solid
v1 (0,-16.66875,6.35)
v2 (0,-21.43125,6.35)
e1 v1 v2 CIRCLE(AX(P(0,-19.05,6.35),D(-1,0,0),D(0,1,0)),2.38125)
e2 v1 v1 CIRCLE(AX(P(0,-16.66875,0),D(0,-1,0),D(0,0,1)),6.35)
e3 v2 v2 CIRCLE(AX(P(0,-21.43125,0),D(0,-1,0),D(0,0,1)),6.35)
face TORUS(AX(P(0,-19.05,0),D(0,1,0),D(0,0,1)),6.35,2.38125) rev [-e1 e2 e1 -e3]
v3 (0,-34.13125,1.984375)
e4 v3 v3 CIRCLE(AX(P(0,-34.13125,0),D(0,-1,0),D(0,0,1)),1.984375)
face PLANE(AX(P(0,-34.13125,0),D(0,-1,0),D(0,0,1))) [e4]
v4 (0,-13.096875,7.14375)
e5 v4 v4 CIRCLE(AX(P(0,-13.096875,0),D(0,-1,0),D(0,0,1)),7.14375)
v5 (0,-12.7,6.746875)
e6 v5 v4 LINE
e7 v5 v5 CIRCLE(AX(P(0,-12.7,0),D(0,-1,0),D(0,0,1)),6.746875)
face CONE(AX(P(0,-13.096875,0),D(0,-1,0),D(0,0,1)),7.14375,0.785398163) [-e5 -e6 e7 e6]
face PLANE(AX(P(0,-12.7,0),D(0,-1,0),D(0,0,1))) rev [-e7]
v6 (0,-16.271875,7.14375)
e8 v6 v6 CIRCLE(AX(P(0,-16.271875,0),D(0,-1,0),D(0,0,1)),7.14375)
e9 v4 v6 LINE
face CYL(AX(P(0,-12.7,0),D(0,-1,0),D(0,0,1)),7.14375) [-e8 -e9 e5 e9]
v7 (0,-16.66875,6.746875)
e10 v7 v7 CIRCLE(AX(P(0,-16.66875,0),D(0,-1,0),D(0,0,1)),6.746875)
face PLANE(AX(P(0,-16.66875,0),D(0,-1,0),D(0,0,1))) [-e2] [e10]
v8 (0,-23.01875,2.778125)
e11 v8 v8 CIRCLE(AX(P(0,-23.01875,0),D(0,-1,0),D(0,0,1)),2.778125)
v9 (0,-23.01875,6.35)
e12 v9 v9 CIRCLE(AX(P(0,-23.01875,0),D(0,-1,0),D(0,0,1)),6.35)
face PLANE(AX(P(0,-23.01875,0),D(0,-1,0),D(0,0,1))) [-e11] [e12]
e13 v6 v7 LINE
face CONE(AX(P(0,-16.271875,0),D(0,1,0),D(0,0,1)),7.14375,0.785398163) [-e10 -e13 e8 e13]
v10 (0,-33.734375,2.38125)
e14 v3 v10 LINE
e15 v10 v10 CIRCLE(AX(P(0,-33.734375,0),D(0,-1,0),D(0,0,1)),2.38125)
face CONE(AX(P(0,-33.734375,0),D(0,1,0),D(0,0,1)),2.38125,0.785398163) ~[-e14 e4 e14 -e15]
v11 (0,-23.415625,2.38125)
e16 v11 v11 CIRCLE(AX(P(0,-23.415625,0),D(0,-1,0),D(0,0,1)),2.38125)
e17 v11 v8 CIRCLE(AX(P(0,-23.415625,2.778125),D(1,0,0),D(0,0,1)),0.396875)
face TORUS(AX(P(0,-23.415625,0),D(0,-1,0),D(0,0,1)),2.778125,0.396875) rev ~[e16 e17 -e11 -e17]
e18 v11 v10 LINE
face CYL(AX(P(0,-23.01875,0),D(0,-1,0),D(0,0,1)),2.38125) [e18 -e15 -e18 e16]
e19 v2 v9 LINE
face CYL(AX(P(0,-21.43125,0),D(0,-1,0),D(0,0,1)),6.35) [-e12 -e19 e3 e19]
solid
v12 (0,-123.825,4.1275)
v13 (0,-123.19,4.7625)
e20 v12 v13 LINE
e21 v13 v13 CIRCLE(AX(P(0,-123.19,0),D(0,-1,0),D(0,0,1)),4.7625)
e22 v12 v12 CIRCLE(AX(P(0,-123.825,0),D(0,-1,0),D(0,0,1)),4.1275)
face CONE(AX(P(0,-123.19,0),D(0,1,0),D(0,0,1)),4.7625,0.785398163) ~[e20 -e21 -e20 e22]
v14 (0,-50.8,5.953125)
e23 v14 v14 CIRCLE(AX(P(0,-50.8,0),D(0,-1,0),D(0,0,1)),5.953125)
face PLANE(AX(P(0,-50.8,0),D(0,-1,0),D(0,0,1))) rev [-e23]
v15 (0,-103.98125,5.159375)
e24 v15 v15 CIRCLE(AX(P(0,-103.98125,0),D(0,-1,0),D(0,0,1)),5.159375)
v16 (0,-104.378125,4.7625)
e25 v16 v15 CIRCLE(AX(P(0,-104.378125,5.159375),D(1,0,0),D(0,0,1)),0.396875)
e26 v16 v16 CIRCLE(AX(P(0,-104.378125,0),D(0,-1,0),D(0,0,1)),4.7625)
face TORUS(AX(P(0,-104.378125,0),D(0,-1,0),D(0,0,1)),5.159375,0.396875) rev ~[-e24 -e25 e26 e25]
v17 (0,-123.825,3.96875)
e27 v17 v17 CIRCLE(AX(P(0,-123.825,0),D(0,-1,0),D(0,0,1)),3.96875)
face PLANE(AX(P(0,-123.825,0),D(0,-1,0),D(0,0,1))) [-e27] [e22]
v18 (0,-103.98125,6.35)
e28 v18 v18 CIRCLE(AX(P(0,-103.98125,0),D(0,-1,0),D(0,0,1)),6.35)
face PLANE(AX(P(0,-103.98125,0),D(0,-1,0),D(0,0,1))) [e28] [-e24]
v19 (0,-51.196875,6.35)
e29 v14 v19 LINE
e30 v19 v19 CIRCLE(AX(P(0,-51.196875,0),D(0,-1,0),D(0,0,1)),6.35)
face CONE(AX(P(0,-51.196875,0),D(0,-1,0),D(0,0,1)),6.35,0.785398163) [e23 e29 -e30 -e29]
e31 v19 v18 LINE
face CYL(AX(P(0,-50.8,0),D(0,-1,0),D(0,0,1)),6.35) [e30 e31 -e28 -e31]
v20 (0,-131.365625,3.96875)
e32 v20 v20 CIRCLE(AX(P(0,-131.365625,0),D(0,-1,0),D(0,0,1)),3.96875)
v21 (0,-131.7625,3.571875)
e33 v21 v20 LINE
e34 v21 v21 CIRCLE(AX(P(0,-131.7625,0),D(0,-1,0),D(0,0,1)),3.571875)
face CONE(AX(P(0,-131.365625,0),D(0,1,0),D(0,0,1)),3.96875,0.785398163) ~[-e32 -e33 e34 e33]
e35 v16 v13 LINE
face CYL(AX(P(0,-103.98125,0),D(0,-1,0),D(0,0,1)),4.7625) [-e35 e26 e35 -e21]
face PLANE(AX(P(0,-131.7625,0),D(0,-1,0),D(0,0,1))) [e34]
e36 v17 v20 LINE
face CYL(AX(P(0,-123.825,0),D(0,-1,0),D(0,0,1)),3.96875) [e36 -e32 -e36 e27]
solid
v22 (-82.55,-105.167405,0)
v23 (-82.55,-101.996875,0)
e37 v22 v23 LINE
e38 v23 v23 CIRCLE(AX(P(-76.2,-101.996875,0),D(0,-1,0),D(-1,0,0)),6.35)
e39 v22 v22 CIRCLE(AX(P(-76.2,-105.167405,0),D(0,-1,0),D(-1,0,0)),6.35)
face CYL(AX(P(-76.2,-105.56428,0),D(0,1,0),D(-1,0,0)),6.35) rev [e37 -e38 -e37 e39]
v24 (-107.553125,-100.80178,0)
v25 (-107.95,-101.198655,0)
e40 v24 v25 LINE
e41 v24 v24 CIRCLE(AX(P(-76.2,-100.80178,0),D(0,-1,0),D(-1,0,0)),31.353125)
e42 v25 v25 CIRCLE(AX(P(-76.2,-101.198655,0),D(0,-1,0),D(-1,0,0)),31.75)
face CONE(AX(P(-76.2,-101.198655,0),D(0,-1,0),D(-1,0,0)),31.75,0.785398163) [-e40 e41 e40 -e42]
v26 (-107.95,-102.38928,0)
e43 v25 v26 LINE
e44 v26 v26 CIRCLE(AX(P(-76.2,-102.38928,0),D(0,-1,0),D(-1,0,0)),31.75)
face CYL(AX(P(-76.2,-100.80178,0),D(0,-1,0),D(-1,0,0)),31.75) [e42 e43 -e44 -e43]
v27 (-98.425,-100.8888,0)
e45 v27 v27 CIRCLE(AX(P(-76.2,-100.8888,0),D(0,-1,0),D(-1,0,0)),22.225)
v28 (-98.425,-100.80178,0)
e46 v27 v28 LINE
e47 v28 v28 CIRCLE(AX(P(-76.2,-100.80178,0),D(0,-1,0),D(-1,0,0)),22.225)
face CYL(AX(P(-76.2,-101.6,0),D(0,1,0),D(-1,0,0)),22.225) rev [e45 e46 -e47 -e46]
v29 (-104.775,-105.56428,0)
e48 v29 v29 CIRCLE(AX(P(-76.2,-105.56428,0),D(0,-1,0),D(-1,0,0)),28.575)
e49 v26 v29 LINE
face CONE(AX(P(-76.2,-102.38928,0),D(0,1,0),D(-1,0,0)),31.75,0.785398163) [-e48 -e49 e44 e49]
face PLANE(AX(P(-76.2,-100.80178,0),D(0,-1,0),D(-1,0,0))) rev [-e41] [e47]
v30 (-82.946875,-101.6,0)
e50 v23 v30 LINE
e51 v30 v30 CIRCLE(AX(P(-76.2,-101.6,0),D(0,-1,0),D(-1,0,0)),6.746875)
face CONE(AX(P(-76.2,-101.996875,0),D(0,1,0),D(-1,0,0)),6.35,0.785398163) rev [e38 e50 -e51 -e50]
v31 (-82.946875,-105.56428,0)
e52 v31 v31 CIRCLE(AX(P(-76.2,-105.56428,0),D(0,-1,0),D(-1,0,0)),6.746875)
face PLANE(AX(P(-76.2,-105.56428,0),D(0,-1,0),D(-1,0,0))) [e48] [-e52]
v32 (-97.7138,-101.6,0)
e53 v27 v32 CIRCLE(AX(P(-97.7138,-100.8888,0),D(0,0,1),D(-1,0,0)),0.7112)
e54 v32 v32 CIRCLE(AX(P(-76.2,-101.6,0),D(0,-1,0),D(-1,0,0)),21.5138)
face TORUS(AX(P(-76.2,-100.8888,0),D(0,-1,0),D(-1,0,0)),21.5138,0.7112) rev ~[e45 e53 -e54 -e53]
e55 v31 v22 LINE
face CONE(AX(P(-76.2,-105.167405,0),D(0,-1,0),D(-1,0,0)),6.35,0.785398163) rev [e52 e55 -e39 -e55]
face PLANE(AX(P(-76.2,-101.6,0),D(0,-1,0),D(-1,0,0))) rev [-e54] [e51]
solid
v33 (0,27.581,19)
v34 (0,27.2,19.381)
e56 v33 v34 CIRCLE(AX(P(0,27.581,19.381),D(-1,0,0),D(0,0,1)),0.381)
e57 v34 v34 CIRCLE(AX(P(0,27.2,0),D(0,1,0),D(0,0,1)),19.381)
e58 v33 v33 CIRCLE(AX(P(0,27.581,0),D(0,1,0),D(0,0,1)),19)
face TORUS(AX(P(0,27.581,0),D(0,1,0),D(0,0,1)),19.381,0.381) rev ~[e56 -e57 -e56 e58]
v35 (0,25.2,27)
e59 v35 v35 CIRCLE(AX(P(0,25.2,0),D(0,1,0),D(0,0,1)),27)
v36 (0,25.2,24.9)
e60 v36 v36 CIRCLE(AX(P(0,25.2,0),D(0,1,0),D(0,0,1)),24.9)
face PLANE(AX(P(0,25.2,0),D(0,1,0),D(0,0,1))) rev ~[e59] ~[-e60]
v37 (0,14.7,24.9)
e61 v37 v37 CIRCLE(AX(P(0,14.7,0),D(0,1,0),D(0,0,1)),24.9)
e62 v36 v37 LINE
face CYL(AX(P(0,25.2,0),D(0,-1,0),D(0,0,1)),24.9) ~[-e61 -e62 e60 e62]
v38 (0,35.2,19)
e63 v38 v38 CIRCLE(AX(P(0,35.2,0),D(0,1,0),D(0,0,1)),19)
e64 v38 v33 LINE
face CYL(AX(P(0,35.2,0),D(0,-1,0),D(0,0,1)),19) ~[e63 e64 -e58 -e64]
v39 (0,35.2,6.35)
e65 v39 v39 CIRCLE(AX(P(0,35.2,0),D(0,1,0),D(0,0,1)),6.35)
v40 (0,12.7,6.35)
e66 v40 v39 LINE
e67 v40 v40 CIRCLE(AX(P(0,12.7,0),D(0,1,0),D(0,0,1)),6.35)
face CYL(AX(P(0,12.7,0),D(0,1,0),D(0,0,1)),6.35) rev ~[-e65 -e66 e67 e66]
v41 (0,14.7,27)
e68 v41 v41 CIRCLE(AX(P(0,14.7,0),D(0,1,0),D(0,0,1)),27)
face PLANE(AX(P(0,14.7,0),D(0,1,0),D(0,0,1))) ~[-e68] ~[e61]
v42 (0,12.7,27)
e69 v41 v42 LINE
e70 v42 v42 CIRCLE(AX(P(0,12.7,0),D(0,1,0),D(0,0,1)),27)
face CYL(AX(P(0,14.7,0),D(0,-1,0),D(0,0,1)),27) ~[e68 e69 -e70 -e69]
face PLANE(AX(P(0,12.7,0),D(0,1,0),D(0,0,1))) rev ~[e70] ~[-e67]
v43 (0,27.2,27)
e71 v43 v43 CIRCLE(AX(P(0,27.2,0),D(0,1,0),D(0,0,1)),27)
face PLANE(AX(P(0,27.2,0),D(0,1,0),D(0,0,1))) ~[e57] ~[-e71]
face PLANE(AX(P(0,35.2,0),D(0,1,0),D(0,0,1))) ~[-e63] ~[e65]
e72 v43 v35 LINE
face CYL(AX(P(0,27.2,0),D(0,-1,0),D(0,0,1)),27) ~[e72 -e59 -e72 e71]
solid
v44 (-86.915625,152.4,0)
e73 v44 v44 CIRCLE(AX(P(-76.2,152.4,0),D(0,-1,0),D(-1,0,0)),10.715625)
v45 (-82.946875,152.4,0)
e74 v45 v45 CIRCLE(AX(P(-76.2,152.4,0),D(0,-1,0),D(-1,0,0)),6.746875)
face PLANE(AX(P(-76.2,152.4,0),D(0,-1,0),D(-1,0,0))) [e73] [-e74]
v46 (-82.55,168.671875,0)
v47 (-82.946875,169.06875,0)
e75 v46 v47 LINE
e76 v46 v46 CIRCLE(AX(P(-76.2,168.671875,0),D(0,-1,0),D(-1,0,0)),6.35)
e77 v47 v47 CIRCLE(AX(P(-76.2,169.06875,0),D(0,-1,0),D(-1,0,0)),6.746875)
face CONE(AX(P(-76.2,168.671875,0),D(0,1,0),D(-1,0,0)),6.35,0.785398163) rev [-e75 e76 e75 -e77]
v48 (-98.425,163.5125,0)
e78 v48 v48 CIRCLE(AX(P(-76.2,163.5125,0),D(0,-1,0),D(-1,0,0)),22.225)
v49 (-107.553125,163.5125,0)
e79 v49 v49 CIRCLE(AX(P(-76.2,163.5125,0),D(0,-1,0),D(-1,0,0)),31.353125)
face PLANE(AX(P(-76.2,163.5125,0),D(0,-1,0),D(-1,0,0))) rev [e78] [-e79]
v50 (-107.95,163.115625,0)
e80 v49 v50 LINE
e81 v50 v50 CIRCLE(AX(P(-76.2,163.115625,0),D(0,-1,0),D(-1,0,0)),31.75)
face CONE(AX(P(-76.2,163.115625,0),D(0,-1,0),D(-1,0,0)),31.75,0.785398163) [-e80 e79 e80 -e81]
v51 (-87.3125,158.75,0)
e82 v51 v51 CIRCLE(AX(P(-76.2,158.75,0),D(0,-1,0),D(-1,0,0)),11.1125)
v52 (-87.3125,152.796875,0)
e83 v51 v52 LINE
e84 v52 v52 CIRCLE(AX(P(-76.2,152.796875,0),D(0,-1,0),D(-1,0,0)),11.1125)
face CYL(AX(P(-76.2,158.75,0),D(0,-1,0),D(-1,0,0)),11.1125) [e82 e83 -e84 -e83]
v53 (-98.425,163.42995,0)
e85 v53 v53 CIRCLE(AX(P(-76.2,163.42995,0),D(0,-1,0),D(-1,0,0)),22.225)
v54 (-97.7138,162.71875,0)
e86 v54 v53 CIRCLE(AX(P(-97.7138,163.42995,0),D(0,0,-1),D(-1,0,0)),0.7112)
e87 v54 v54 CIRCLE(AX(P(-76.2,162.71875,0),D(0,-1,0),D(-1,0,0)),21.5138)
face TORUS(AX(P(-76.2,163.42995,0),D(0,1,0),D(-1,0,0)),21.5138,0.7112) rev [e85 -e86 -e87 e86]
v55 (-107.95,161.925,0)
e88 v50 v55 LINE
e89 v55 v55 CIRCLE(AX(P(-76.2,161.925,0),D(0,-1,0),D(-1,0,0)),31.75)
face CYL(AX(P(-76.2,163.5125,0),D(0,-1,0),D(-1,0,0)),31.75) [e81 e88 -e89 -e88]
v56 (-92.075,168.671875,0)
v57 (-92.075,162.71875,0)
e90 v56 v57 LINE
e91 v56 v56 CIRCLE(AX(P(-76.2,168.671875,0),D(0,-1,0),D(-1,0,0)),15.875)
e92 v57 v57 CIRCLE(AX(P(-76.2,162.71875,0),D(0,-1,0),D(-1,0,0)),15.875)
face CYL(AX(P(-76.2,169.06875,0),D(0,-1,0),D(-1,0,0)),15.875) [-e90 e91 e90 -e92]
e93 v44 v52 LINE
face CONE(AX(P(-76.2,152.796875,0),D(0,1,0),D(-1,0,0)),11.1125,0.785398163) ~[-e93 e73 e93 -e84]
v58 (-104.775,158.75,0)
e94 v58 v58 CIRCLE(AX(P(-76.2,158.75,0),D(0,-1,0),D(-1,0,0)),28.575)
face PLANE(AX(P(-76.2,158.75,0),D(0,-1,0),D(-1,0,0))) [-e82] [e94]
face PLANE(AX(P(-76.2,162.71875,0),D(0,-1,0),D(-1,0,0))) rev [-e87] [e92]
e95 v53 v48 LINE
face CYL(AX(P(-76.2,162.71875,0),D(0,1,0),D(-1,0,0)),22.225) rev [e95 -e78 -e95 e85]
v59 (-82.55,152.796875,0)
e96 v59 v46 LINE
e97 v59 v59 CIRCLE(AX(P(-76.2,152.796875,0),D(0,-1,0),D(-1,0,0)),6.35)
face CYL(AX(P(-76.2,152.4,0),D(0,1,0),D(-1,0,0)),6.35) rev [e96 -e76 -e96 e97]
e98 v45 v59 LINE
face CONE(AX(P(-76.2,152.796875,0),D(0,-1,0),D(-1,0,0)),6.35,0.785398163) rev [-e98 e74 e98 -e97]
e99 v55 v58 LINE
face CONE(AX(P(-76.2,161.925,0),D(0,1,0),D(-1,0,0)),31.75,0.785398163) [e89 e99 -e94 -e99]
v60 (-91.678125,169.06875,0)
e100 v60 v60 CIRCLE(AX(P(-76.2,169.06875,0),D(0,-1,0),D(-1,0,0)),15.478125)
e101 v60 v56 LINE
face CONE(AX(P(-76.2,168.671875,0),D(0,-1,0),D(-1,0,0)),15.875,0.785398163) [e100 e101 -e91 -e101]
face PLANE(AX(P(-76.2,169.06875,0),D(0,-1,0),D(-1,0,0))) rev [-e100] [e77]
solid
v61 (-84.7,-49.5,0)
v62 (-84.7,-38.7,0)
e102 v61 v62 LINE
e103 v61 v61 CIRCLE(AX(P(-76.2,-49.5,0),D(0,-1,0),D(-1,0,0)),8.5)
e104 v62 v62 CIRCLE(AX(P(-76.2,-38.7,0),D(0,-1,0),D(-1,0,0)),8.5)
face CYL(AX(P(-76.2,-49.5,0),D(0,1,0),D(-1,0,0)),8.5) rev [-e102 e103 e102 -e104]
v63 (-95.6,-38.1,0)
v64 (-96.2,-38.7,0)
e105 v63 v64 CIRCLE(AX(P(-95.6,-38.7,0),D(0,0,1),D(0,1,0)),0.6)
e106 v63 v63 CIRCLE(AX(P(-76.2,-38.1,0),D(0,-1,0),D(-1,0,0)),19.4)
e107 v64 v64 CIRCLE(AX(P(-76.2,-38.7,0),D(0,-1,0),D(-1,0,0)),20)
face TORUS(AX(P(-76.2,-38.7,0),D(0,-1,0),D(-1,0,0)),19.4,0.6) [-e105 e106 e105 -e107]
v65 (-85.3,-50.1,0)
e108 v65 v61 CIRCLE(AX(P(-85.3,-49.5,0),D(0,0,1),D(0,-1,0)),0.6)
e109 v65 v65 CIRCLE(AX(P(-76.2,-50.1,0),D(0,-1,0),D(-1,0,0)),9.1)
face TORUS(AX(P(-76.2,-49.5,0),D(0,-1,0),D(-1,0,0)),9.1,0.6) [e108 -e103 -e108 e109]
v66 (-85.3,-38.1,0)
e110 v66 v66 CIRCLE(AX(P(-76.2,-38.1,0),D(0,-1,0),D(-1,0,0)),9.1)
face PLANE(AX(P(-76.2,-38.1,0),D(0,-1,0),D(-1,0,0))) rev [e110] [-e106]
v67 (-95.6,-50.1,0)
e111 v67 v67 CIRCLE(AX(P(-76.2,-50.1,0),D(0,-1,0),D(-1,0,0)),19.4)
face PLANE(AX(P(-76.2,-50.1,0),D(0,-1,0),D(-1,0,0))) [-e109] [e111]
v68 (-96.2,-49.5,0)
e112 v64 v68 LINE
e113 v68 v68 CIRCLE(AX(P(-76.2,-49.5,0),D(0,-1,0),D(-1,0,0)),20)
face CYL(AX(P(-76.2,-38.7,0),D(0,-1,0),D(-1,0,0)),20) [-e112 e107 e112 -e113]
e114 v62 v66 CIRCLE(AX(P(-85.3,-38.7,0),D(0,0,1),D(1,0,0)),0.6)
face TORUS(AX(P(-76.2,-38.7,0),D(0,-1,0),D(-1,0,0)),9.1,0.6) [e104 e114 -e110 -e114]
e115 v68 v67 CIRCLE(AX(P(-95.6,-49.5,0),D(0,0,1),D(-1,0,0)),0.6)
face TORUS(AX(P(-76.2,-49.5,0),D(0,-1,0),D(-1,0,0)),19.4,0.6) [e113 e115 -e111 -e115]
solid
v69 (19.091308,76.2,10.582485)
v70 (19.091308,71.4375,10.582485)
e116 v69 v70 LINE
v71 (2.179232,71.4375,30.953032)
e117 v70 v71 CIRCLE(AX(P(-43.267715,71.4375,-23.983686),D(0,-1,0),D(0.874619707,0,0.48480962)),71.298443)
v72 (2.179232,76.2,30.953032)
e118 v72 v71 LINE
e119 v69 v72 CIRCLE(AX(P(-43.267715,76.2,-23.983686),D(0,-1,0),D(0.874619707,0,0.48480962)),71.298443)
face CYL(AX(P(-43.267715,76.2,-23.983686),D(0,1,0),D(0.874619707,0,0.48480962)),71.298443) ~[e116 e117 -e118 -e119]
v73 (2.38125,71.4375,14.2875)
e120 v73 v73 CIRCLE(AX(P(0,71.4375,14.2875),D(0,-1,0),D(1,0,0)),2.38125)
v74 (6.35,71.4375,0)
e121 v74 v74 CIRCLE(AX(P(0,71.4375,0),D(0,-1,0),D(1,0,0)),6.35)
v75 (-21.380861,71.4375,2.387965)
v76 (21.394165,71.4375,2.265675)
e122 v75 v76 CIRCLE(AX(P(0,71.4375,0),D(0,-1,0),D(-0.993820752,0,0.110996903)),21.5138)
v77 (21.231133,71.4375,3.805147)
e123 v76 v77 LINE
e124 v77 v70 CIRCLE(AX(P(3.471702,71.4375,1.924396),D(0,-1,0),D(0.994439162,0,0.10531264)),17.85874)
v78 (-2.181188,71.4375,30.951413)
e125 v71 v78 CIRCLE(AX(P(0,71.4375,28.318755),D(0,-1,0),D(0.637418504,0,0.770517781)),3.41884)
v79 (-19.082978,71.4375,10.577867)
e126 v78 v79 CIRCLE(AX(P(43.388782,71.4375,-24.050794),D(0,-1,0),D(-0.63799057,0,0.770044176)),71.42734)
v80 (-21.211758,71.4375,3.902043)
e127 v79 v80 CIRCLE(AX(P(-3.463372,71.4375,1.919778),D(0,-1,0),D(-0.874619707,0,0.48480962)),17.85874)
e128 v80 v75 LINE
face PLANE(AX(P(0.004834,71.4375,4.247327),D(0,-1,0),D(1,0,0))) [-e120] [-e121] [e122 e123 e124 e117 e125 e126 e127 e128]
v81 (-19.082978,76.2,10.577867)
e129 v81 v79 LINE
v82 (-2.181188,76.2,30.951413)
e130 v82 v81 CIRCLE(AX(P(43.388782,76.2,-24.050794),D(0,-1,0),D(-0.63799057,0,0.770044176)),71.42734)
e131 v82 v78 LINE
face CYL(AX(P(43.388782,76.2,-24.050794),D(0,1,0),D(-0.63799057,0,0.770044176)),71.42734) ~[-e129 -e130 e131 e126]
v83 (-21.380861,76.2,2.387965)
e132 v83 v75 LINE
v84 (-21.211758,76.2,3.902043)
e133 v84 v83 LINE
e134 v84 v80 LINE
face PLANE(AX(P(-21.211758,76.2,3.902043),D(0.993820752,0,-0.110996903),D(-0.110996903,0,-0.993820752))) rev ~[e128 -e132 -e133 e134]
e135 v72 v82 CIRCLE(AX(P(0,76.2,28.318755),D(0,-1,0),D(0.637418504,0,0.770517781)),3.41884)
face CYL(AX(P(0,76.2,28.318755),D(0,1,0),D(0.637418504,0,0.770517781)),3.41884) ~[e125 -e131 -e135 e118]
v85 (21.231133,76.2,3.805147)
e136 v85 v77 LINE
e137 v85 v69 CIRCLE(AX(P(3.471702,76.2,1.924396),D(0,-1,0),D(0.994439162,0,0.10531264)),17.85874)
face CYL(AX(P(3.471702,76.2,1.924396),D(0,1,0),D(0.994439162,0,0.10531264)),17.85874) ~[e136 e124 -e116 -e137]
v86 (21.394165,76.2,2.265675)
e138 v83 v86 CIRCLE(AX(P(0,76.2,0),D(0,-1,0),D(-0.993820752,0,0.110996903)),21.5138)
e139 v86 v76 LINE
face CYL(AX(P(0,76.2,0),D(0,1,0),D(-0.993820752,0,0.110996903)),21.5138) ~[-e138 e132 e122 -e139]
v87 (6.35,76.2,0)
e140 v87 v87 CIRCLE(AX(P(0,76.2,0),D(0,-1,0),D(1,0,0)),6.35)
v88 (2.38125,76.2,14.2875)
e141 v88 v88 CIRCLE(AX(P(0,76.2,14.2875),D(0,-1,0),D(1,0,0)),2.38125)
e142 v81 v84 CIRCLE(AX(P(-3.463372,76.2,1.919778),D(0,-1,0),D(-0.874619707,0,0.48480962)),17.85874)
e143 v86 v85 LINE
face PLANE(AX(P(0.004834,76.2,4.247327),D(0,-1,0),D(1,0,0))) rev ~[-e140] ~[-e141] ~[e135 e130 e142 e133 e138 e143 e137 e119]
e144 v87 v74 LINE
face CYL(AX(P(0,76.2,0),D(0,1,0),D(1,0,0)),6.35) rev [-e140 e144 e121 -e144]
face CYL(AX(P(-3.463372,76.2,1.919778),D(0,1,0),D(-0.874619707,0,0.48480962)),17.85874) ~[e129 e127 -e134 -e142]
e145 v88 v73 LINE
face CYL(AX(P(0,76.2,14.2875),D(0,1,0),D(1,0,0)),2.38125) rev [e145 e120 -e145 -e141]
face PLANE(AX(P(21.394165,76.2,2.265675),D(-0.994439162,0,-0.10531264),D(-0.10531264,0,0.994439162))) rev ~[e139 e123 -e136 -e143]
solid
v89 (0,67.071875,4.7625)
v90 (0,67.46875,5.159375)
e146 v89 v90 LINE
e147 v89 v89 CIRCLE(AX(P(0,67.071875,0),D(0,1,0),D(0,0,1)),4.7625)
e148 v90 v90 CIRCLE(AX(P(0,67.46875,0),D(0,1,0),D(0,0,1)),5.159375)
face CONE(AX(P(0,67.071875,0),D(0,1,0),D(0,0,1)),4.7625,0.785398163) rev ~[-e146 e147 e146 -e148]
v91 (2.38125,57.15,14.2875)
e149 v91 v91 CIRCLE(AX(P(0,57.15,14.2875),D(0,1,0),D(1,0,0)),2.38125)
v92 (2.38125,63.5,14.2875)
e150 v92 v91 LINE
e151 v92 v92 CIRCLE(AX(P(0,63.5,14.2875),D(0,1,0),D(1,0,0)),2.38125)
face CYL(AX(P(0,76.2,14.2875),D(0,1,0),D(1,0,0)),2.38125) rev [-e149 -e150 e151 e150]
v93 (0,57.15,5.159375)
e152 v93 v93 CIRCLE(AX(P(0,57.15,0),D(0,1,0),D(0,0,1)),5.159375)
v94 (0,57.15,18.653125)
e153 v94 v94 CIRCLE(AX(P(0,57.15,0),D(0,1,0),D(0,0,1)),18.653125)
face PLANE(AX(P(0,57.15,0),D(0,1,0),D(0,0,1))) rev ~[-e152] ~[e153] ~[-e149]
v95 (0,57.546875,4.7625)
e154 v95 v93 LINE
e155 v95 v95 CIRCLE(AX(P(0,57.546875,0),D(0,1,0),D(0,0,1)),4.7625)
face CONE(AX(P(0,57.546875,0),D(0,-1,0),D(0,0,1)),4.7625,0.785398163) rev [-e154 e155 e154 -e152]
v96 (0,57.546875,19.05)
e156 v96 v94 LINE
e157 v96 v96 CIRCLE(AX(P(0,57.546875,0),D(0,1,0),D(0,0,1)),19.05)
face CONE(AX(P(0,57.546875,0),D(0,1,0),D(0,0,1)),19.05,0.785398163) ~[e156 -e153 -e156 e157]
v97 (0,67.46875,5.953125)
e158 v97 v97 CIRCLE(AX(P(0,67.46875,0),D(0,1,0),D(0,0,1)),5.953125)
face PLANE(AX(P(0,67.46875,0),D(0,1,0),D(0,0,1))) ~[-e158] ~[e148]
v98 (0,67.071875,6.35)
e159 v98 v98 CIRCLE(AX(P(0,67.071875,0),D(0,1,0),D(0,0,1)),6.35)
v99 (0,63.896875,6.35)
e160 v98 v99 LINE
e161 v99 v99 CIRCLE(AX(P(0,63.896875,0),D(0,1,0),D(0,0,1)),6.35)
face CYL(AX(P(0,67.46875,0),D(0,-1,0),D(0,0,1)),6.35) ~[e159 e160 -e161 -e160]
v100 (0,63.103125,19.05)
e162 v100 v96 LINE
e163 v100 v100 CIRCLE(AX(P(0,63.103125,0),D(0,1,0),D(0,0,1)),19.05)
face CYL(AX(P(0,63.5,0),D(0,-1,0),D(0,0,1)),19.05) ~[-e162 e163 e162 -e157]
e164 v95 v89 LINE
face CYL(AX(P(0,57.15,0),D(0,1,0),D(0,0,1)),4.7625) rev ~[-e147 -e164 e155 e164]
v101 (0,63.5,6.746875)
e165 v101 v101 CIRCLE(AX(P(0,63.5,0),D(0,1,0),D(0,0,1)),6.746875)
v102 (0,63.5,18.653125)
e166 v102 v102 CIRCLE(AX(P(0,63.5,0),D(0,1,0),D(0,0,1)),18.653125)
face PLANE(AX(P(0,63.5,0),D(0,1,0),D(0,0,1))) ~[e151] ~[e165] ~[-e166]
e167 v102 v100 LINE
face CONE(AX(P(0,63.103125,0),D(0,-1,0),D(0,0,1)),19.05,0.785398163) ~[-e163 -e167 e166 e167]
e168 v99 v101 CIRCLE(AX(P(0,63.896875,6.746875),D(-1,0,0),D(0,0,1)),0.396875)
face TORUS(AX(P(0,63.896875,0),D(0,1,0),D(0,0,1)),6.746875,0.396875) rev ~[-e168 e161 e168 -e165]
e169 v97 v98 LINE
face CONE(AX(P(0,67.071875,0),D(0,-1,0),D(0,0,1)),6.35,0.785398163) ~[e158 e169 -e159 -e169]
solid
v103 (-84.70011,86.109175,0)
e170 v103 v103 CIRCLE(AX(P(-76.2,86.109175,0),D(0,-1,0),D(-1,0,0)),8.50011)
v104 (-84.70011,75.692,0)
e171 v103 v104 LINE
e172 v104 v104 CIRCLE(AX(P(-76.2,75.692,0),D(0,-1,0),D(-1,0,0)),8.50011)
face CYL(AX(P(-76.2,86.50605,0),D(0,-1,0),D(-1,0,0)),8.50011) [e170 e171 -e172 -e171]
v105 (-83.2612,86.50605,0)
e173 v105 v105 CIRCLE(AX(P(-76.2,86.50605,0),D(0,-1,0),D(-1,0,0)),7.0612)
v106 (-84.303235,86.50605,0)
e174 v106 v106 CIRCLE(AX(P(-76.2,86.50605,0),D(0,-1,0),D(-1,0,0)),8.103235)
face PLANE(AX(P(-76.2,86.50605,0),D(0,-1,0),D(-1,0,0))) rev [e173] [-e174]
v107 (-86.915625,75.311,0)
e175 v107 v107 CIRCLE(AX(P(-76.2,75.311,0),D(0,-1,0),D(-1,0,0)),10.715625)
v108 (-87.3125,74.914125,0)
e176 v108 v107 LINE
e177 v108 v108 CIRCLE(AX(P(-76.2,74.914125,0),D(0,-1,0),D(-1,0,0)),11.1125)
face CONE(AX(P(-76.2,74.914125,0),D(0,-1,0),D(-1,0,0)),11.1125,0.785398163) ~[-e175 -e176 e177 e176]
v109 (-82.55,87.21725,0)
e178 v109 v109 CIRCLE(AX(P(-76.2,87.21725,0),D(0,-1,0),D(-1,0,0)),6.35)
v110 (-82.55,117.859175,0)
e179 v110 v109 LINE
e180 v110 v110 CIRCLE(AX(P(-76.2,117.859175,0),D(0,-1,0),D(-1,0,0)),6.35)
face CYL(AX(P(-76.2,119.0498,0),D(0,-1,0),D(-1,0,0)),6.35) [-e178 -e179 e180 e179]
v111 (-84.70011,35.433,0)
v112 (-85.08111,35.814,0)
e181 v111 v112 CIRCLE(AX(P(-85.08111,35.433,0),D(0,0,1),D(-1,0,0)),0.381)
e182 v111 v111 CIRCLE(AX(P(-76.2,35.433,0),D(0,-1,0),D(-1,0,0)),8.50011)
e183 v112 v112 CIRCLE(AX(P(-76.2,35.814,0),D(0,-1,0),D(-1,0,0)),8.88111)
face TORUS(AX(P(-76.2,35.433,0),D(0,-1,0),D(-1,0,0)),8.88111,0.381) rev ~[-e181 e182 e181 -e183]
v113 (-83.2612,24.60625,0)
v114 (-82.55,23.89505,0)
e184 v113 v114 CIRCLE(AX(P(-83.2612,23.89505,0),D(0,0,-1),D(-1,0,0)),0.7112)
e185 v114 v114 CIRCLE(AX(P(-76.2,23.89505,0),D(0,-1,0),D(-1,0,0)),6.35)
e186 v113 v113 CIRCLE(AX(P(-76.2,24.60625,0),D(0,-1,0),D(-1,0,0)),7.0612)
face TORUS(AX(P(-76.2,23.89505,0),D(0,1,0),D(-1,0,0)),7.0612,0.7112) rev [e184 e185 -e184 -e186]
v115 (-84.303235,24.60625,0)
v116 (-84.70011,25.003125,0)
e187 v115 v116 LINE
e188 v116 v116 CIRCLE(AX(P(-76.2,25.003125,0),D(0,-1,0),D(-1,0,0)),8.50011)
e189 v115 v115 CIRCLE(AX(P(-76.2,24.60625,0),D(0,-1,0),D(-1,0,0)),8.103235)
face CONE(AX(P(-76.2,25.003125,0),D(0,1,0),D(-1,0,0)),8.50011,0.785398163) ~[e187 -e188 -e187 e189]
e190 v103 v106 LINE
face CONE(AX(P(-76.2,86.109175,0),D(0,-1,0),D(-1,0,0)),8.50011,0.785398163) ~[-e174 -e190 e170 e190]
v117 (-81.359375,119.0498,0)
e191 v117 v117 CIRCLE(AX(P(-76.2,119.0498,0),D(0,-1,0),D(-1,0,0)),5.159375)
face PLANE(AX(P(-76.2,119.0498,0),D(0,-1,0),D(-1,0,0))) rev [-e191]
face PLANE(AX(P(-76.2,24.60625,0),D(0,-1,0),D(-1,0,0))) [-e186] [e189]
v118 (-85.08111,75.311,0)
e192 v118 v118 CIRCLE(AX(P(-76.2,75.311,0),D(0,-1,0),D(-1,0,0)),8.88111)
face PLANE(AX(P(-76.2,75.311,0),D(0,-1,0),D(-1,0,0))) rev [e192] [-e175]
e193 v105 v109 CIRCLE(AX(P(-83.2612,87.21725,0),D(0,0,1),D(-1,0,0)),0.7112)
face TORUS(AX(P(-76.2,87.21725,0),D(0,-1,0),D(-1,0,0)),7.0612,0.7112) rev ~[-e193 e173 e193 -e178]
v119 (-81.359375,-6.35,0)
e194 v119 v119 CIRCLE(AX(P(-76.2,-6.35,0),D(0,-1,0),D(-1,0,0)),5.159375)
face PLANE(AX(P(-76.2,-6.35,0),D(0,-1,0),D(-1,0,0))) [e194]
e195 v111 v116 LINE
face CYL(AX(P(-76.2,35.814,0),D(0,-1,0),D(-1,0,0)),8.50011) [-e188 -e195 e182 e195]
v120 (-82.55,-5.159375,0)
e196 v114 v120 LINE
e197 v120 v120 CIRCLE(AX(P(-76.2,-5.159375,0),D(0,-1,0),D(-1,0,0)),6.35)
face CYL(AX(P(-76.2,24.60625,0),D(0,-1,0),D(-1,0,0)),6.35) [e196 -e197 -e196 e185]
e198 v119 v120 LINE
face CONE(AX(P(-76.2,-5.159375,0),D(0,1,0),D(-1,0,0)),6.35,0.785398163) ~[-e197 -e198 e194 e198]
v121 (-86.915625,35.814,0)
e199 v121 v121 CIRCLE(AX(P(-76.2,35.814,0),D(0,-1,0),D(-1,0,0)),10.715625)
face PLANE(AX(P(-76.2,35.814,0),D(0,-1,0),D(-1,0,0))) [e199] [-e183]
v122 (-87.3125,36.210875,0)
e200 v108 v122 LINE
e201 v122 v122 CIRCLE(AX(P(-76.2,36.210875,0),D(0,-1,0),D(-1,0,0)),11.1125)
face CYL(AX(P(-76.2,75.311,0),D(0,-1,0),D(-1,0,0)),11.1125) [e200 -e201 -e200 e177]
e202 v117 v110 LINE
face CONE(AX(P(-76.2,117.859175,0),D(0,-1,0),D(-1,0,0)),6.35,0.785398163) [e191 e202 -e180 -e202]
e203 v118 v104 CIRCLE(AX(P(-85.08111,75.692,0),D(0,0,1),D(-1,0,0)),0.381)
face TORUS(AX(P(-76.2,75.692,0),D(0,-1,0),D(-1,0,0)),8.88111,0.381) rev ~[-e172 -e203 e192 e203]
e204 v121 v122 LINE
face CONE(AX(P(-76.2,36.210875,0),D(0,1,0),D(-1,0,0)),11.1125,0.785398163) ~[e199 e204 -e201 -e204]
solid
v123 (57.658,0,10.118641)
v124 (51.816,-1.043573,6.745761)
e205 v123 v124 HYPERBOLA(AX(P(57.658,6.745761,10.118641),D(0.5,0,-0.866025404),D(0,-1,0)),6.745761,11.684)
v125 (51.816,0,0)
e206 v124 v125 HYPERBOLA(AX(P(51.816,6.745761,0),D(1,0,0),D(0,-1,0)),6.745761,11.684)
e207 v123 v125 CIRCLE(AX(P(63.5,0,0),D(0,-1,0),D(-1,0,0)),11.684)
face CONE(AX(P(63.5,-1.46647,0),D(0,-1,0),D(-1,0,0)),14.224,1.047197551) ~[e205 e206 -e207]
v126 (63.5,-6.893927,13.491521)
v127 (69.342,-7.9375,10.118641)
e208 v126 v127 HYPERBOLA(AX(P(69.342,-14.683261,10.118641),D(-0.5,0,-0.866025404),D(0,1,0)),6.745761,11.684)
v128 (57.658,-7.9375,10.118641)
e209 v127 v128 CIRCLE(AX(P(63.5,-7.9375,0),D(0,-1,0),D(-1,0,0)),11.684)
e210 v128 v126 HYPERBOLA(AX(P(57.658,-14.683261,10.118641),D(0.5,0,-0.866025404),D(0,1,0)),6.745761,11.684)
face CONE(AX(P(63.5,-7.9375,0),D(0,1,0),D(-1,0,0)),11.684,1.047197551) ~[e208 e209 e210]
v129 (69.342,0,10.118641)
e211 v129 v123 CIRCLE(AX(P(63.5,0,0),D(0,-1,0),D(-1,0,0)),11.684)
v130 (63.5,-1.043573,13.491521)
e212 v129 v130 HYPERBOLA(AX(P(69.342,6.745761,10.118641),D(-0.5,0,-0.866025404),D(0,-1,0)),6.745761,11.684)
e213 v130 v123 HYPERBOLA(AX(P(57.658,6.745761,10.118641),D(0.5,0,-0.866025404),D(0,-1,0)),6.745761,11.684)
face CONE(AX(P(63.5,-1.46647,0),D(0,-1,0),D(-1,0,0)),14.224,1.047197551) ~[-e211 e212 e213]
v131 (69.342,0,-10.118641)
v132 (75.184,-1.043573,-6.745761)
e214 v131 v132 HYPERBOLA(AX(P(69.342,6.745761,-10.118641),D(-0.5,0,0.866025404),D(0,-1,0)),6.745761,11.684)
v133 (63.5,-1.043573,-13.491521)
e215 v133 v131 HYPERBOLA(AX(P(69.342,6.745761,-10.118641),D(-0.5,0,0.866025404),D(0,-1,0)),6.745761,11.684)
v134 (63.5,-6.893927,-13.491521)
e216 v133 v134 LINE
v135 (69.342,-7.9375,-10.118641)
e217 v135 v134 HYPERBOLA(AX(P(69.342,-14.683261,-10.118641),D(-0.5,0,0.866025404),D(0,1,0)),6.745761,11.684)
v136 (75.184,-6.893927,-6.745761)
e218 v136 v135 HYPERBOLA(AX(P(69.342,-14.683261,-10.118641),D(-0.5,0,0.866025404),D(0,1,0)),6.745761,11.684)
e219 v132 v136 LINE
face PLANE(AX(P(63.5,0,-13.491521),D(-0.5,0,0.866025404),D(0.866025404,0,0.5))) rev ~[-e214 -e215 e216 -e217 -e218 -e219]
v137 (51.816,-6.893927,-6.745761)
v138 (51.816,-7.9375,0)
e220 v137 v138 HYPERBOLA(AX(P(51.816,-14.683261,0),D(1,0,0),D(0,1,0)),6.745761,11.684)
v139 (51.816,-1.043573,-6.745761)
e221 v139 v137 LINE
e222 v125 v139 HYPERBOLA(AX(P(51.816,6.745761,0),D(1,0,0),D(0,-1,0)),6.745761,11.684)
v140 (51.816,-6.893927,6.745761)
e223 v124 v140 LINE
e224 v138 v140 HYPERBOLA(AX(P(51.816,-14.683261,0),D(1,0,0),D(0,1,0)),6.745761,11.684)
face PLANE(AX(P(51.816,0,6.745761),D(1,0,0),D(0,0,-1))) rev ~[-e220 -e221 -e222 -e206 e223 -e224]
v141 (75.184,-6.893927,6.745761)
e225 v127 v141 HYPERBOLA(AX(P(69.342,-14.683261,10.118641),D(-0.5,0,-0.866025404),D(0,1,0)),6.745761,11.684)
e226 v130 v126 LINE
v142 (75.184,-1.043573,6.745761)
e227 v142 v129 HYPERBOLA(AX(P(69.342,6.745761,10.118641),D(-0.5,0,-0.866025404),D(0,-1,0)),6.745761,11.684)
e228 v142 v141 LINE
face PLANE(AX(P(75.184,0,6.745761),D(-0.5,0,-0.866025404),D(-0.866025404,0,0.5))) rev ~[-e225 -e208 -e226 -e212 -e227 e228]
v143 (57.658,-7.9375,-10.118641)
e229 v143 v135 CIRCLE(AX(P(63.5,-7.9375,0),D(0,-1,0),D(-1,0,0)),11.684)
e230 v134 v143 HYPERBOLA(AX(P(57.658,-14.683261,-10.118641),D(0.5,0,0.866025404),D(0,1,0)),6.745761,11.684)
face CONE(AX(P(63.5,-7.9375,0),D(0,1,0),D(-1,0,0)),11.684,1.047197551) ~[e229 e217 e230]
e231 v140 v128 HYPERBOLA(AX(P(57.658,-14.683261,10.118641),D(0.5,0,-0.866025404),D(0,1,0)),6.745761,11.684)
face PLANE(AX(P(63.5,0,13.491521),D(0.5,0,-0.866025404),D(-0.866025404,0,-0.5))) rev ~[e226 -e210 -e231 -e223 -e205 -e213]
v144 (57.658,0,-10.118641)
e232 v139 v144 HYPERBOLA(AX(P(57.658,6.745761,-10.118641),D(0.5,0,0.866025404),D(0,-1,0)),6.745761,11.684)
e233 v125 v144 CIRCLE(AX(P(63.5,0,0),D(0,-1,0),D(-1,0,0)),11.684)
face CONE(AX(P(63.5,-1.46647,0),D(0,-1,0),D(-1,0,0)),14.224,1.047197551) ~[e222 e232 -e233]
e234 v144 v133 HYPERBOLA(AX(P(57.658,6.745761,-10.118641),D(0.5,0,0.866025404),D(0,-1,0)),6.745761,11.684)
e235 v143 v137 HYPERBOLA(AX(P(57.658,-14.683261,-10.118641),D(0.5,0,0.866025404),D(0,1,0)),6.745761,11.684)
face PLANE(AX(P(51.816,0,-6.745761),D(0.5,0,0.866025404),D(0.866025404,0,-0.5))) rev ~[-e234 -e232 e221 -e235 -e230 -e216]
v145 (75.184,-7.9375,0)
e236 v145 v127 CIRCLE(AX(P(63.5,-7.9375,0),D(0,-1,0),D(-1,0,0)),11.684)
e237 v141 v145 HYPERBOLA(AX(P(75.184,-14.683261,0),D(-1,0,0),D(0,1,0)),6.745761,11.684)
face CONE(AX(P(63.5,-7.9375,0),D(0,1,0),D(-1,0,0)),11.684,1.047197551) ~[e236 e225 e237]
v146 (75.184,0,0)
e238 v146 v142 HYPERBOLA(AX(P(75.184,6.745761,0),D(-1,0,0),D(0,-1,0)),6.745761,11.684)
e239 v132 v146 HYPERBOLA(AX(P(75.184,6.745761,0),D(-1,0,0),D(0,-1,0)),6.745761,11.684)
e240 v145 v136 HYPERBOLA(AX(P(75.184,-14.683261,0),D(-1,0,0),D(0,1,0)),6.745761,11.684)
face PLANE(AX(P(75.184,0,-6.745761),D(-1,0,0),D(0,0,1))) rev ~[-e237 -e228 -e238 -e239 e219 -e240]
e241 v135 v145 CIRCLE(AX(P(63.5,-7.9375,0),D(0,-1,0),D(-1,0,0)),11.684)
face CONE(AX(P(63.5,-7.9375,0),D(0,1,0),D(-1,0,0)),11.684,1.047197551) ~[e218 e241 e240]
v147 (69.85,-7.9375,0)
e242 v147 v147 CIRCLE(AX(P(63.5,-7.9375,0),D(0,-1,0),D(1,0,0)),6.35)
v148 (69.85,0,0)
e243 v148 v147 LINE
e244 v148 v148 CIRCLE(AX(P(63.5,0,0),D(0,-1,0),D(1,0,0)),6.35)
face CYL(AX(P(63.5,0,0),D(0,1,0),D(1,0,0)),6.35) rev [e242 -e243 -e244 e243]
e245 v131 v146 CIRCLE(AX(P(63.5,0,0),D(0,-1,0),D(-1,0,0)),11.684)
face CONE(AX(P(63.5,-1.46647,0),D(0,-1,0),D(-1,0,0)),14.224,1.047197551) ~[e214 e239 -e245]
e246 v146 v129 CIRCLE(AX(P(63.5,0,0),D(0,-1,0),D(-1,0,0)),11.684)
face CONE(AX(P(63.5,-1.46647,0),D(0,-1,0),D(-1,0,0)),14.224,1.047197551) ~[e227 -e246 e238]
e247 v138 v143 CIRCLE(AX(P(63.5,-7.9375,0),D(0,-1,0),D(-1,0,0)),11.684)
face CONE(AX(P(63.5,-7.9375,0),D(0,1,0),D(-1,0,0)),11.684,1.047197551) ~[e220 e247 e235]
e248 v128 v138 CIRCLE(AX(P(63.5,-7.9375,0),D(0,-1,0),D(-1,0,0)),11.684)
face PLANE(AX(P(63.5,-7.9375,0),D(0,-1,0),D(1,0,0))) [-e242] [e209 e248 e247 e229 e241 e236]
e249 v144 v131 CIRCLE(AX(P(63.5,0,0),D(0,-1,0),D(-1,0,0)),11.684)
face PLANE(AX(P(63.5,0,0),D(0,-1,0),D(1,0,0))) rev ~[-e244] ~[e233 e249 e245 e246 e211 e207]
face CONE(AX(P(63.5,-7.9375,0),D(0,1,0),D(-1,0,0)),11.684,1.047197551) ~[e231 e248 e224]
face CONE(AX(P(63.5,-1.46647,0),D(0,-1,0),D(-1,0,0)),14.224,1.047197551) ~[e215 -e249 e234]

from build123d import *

# Parameters (mm, degrees)
F2_SIZE    = 0.396875
F3_R       = 0.396875
F8_SIZE    = 0.396875
F9_SIZE    = 0.635
F10_R      = 0.396875
F13_SIZE   = 0.396875
F14_R      = 0.396875
F16_R      = 6.35
F16_R_2    = 2.38125
F17_DEPTH  = 4.7625
F18_DEPTH  = 25.4
F21_SIZE   = 1.190625
F22_SIZE   = 0.396875
F22_2_SIZE = 0.396875
F22_3_SIZE = 0.396875
F23_R      = 0.7112
F23_2_R    = 0.7112
F23_3_R    = 0.7112
F24_R      = 0.381
F24_2_R    = 0.381
F25_R      = 6.35
F26_DEPTH  = 7.9375


with BuildPart() as f1:
    # F0 (on Right) → F1 (revolve)
    with BuildSketch(Plane.YZ):
        with BuildLine():
            Line((-34.13125, 2.38125), (-34.13125, 0))
            Line((-34.13125, 0), (-12.7, 0))
            Line((-12.7, 0), (-12.7, 7.14375))
            Line((-12.7, 7.14375), (-16.66875, 7.14375))
            Line((-16.66875, 7.14375), (-16.66875, 6.35))
            ThreePointArc((-16.66875, 6.35), (-19.05, 3.96875), (-21.43125, 6.35))
            Line((-21.43125, 6.35), (-23.01875, 6.35))
            Line((-23.01875, 6.35), (-23.01875, 2.38125))
            Line((-23.01875, 2.38125), (-34.13125, 2.38125))
        make_face()
    revolve(axis=Axis((0, -81.3118070364, 0), (0, -1, 0)))

    # F2
    f2_edges = [f1.edges().sort_by_distance(p)[0] for p in [
        (0, -12.7, -7.14375),
        (0, -16.66875, -7.14375),
        (0, -14.684375, 7.14375),
        (0, -34.13125, -2.38125),
    ]]
    chamfer(f2_edges, length=F2_SIZE)

    # F3
    f3_edges = [f1.edges().sort_by_distance(p)[0] for p in [
        (0, -23.01875, -2.38125),
    ]]
    fillet(f3_edges, radius=F3_R)


with BuildPart() as f5:
    # F4 (on Right) → F5 (revolve)
    with BuildSketch(Plane.YZ):
        Polygon((12.7, 27), (12.7, 6.35), (35.2, 6.35), (35.2, 19), (27.2, 19), (27.2, 27), (25.2, 27), (25.2, 24.9), (14.7, 24.9), (14.7, 27), align=None)
    revolve(axis=Axis((0, 15.1764983311, 0), (0, 1, 0)))

    # F24#2
    f24_2_edges = [f5.edges().sort_by_distance(p)[0] for p in [
        (0, 27.2, -19),
    ]]
    fillet(f24_2_edges, radius=F24_2_R)


with BuildPart() as f7:
    # F6 (on Right) → F7 (revolve)
    with BuildSketch(Plane.YZ):
        Polygon((-131.7625, 3.96875), (-131.7625, 0), (-50.8, 0), (-50.8, 6.35), (-103.98125, 6.35), (-103.98125, 4.7625), (-123.825, 4.7625), (-123.825, 3.96875), align=None)
    revolve(axis=Axis((0, -69.021075964, 0), (0, -1, 0)))

    # F8
    f8_edges = [f7.edges().sort_by_distance(p)[0] for p in [
        (0, -50.8, -6.35),
        (0, -131.7625, -3.96875),
    ]]
    chamfer(f8_edges, length=F8_SIZE)

    # F9
    f9_edges = [f7.edges().sort_by_distance(p)[0] for p in [
        (0, -123.825, -4.7625),
    ]]
    chamfer(f9_edges, length=F9_SIZE)

    # F10
    f10_edges = [f7.edges().sort_by_distance(p)[0] for p in [
        (0, -103.98125, -4.7625),
    ]]
    fillet(f10_edges, radius=F10_R)


with BuildPart() as f12:
    # F11 (on Right) → F12 (revolve)
    with BuildSketch(Plane.YZ):
        Polygon((57.15, 4.7625), (67.46875, 4.7625), (67.46875, 6.35), (63.5, 6.35), (63.5, 19.05), (57.15, 19.05), align=None)
    revolve(axis=Axis((0, 34.108883065, 0), (0, 1, 0)))

    # F13
    f13_edges = [f12.edges().sort_by_distance(p)[0] for p in [
        (0, 67.46875, -4.7625),
        (0, 67.46875, -6.35),
        (0, 63.5, -19.05),
        (0, 57.15, -19.05),
        (0, 60.325, 19.05),
        (0, 57.15, -4.7625),
    ]]
    chamfer(f13_edges, length=F13_SIZE)

    # F14
    f14_edges = [f12.edges().sort_by_distance(p)[0] for p in [
        (0, 63.5, -6.35),
    ]]
    fillet(f14_edges, radius=F14_R)

    # F16 (on offset) → F18 (cut)
    with BuildSketch(Plane.XZ.offset(-76.2)):
        with Locations((0, 14.2875)):
            Circle(F16_R_2)
    extrude(amount=F18_DEPTH, mode=Mode.SUBTRACT)


with BuildPart() as f17:
    # F16 (on offset) → F17 (new body)
    with BuildSketch(Plane.XZ.offset(-76.2)):
        with BuildLine():
            Line((-21.2117580131, 3.9020430609), (-21.380860898, 2.3879651798))
            ThreePointArc((-21.380860898, 2.3879651798), (-0.061505847, -21.5137120802), (21.394165254, 2.26567507))
            Line((21.394165254, 2.26567507), (21.231132795, 3.8051470872))
            ThreePointArc((21.231132795, 3.8051470872), (20.5017667904, 7.3013374897), (19.0913082949, 10.5824849919))
            ThreePointArc((19.0913082949, 10.5824849919), (11.5891131737, 21.5596599982), (2.1792318798, 30.9530319589))
            ThreePointArc((2.1792318798, 30.9530319589), (-0.001269536, 31.7375947142), (-2.1811876789, 30.951412781))
            ThreePointArc((-2.1811876789, 30.951412781), (-11.5841581981, 21.5544770483), (-19.0829775422, 10.5778671803))
            ThreePointArc((-19.0829775422, 10.5778671803), (-20.4779942925, 7.3453849905), (-21.2117580131, 3.9020430609))
        make_face()
        Circle(F16_R, mode=Mode.SUBTRACT)
        with Locations((0, 14.2875)):
            Circle(F16_R_2, mode=Mode.SUBTRACT)
    extrude(amount=F17_DEPTH)


with BuildPart() as f20:
    # F19 (on Top) → F20 (revolve)
    with BuildSketch(Plane.XY):
        Polygon((-98.425, -101.6), (-98.425, -100.8017796516), (-107.95, -100.8017796516), (-107.95, -102.3892796516), (-104.775, -105.5642796516), (-82.55, -105.5642796516), (-82.55, -101.6), align=None)
    revolve(axis=Axis((-76.2, 36.8348529909, 0), (0, -1, 0)))

    # F22
    f22_edges = [f20.edges().sort_by_distance(p)[0] for p in [
        (-69.85, -105.56428, 0),
        (-69.85, -101.6, 0),
        (-82.55, -103.58214, 0),
        (-44.45, -100.80178, 0),
    ]]
    chamfer(f22_edges, length=F22_SIZE)

    # F23#2
    f23_2_edges = [f20.edges().sort_by_distance(p)[0] for p in [
        (-53.975, -101.6, 0),
    ]]
    fillet(f23_2_edges, radius=F23_2_R)


with BuildPart() as f20b:
    # F19 (on Top) → F20, piece 2 (revolve)
    with BuildSketch(Plane.XY):
        with BuildLine():
            ThreePointArc((-96.2, -49.5), (-96.0242640687, -49.9242640687), (-95.6, -50.1))
            Line((-95.6, -50.1), (-85.3, -50.1))
            ThreePointArc((-85.3, -50.1), (-84.8757359313, -49.9242640687), (-84.7, -49.5))
            Line((-84.7, -49.5), (-84.7, -38.7))
            ThreePointArc((-84.7, -38.7), (-84.8757359313, -38.2757359313), (-85.3, -38.1))
            Line((-85.3, -38.1), (-95.6, -38.1))
            ThreePointArc((-95.6, -38.1), (-96.0242640687, -38.2757359313), (-96.2, -38.7))
            Line((-96.2, -38.7), (-96.2, -49.5))
        make_face()
    revolve(axis=Axis((-76.2, 36.8348529909, 0), (0, -1, 0)))


with BuildPart() as f20c:
    # F19 (on Top) → F20, piece 3 (revolve)
    with BuildSketch(Plane.XY):
        Polygon((-82.55, -6.35), (-76.2, -6.35), (-76.2, 119.0498), (-82.55, 119.0498), (-82.55, 86.50605), (-84.70011, 86.50605), (-84.70011, 75.311), (-87.3125, 75.311), (-87.3125, 35.814), (-84.70011, 35.814), (-84.70011, 24.60625), (-82.55, 24.60625), align=None)
    revolve(axis=Axis((-76.2, 36.8348529909, 0), (0, -1, 0)))

    # F21
    f21_edges = [f20c.edges().sort_by_distance(p)[0] for p in [
        (-69.85, -6.35, 0),
        (-69.85, 119.0498, 0),
    ]]
    chamfer(f21_edges, length=F21_SIZE)

    # F22#3
    f22_3_edges = [f20c.edges().sort_by_distance(p)[0] for p in [
        (-67.69989, 24.60625, 0),
        (-65.0875, 35.814, 0),
        (-65.0875, 75.311, 0),
        (-67.69989, 86.50605, 0),
    ]]
    chamfer(f22_3_edges, length=F22_3_SIZE)

    # F23#3
    f23_3_edges = [f20c.edges().sort_by_distance(p)[0] for p in [
        (-69.85, 86.50605, 0),
        (-69.85, 24.60625, 0),
    ]]
    fillet(f23_3_edges, radius=F23_3_R)

    # F24
    f24_edges = [f20c.edges().sort_by_distance(p)[0] for p in [
        (-67.69989, 35.814, 0),
        (-67.69989, 75.311, 0),
    ]]
    fillet(f24_edges, radius=F24_R)


with BuildPart() as f20d:
    # F19 (on Top) → F20, piece 4 (revolve)
    with BuildSketch(Plane.XY):
        Polygon((-87.3125, 152.4), (-82.55, 152.4), (-82.55, 169.06875), (-92.075, 169.06875), (-92.075, 162.71875), (-98.425, 162.71875), (-98.425, 163.5125), (-107.95, 163.5125), (-107.95, 161.925), (-104.775, 158.75), (-87.3125, 158.75), align=None)
    revolve(axis=Axis((-76.2, 36.8348529909, 0), (0, -1, 0)))

    # F22#2
    f22_2_edges = [f20d.edges().sort_by_distance(p)[0] for p in [
        (-69.85, 152.4, 0),
        (-69.85, 169.06875, 0),
        (-82.55, 160.734375, 0),
        (-65.0875, 152.4, 0),
        (-60.325, 169.06875, 0),
        (-44.45, 163.5125, 0),
    ]]
    chamfer(f22_2_edges, length=F22_2_SIZE)

    # F23
    f23_edges = [f20d.edges().sort_by_distance(p)[0] for p in [
        (-53.975, 162.71875, 0),
    ]]
    fillet(f23_edges, radius=F23_R)


with BuildPart() as f26:
    # F25 (on Front) → F26 (new body)
    with BuildSketch(Plane.XZ):
        Polygon((51.816, 6.7457605452), (51.816, -6.7457605452), (63.5, -13.4915210904), (75.184, -6.7457605452), (75.184, 6.7457605452), (63.5, 13.4915210904), align=None)
        with Locations((63.5, 0)):
            Circle(F25_R, mode=Mode.SUBTRACT)
    extrude(amount=F26_DEPTH)

    # F27 (on Top) → F28 (revolve, cut)
    with BuildSketch(Plane.XY):
        Polygon((49.276, -1.4664696837), (51.816, 0), (49.276, 0), align=None)
        Polygon((49.276, -7.9375), (51.816, -7.9375), (49.276, -6.4710303163), align=None)
    revolve(axis=Axis((63.5, -7.9375, 0), (0, -1, 0)), mode=Mode.SUBTRACT)


solid = Compound([f1.part, f5.part, f7.part, f12.part, f17.part, f20.part, f20b.part, f20c.part, f20d.part, f26.part])
